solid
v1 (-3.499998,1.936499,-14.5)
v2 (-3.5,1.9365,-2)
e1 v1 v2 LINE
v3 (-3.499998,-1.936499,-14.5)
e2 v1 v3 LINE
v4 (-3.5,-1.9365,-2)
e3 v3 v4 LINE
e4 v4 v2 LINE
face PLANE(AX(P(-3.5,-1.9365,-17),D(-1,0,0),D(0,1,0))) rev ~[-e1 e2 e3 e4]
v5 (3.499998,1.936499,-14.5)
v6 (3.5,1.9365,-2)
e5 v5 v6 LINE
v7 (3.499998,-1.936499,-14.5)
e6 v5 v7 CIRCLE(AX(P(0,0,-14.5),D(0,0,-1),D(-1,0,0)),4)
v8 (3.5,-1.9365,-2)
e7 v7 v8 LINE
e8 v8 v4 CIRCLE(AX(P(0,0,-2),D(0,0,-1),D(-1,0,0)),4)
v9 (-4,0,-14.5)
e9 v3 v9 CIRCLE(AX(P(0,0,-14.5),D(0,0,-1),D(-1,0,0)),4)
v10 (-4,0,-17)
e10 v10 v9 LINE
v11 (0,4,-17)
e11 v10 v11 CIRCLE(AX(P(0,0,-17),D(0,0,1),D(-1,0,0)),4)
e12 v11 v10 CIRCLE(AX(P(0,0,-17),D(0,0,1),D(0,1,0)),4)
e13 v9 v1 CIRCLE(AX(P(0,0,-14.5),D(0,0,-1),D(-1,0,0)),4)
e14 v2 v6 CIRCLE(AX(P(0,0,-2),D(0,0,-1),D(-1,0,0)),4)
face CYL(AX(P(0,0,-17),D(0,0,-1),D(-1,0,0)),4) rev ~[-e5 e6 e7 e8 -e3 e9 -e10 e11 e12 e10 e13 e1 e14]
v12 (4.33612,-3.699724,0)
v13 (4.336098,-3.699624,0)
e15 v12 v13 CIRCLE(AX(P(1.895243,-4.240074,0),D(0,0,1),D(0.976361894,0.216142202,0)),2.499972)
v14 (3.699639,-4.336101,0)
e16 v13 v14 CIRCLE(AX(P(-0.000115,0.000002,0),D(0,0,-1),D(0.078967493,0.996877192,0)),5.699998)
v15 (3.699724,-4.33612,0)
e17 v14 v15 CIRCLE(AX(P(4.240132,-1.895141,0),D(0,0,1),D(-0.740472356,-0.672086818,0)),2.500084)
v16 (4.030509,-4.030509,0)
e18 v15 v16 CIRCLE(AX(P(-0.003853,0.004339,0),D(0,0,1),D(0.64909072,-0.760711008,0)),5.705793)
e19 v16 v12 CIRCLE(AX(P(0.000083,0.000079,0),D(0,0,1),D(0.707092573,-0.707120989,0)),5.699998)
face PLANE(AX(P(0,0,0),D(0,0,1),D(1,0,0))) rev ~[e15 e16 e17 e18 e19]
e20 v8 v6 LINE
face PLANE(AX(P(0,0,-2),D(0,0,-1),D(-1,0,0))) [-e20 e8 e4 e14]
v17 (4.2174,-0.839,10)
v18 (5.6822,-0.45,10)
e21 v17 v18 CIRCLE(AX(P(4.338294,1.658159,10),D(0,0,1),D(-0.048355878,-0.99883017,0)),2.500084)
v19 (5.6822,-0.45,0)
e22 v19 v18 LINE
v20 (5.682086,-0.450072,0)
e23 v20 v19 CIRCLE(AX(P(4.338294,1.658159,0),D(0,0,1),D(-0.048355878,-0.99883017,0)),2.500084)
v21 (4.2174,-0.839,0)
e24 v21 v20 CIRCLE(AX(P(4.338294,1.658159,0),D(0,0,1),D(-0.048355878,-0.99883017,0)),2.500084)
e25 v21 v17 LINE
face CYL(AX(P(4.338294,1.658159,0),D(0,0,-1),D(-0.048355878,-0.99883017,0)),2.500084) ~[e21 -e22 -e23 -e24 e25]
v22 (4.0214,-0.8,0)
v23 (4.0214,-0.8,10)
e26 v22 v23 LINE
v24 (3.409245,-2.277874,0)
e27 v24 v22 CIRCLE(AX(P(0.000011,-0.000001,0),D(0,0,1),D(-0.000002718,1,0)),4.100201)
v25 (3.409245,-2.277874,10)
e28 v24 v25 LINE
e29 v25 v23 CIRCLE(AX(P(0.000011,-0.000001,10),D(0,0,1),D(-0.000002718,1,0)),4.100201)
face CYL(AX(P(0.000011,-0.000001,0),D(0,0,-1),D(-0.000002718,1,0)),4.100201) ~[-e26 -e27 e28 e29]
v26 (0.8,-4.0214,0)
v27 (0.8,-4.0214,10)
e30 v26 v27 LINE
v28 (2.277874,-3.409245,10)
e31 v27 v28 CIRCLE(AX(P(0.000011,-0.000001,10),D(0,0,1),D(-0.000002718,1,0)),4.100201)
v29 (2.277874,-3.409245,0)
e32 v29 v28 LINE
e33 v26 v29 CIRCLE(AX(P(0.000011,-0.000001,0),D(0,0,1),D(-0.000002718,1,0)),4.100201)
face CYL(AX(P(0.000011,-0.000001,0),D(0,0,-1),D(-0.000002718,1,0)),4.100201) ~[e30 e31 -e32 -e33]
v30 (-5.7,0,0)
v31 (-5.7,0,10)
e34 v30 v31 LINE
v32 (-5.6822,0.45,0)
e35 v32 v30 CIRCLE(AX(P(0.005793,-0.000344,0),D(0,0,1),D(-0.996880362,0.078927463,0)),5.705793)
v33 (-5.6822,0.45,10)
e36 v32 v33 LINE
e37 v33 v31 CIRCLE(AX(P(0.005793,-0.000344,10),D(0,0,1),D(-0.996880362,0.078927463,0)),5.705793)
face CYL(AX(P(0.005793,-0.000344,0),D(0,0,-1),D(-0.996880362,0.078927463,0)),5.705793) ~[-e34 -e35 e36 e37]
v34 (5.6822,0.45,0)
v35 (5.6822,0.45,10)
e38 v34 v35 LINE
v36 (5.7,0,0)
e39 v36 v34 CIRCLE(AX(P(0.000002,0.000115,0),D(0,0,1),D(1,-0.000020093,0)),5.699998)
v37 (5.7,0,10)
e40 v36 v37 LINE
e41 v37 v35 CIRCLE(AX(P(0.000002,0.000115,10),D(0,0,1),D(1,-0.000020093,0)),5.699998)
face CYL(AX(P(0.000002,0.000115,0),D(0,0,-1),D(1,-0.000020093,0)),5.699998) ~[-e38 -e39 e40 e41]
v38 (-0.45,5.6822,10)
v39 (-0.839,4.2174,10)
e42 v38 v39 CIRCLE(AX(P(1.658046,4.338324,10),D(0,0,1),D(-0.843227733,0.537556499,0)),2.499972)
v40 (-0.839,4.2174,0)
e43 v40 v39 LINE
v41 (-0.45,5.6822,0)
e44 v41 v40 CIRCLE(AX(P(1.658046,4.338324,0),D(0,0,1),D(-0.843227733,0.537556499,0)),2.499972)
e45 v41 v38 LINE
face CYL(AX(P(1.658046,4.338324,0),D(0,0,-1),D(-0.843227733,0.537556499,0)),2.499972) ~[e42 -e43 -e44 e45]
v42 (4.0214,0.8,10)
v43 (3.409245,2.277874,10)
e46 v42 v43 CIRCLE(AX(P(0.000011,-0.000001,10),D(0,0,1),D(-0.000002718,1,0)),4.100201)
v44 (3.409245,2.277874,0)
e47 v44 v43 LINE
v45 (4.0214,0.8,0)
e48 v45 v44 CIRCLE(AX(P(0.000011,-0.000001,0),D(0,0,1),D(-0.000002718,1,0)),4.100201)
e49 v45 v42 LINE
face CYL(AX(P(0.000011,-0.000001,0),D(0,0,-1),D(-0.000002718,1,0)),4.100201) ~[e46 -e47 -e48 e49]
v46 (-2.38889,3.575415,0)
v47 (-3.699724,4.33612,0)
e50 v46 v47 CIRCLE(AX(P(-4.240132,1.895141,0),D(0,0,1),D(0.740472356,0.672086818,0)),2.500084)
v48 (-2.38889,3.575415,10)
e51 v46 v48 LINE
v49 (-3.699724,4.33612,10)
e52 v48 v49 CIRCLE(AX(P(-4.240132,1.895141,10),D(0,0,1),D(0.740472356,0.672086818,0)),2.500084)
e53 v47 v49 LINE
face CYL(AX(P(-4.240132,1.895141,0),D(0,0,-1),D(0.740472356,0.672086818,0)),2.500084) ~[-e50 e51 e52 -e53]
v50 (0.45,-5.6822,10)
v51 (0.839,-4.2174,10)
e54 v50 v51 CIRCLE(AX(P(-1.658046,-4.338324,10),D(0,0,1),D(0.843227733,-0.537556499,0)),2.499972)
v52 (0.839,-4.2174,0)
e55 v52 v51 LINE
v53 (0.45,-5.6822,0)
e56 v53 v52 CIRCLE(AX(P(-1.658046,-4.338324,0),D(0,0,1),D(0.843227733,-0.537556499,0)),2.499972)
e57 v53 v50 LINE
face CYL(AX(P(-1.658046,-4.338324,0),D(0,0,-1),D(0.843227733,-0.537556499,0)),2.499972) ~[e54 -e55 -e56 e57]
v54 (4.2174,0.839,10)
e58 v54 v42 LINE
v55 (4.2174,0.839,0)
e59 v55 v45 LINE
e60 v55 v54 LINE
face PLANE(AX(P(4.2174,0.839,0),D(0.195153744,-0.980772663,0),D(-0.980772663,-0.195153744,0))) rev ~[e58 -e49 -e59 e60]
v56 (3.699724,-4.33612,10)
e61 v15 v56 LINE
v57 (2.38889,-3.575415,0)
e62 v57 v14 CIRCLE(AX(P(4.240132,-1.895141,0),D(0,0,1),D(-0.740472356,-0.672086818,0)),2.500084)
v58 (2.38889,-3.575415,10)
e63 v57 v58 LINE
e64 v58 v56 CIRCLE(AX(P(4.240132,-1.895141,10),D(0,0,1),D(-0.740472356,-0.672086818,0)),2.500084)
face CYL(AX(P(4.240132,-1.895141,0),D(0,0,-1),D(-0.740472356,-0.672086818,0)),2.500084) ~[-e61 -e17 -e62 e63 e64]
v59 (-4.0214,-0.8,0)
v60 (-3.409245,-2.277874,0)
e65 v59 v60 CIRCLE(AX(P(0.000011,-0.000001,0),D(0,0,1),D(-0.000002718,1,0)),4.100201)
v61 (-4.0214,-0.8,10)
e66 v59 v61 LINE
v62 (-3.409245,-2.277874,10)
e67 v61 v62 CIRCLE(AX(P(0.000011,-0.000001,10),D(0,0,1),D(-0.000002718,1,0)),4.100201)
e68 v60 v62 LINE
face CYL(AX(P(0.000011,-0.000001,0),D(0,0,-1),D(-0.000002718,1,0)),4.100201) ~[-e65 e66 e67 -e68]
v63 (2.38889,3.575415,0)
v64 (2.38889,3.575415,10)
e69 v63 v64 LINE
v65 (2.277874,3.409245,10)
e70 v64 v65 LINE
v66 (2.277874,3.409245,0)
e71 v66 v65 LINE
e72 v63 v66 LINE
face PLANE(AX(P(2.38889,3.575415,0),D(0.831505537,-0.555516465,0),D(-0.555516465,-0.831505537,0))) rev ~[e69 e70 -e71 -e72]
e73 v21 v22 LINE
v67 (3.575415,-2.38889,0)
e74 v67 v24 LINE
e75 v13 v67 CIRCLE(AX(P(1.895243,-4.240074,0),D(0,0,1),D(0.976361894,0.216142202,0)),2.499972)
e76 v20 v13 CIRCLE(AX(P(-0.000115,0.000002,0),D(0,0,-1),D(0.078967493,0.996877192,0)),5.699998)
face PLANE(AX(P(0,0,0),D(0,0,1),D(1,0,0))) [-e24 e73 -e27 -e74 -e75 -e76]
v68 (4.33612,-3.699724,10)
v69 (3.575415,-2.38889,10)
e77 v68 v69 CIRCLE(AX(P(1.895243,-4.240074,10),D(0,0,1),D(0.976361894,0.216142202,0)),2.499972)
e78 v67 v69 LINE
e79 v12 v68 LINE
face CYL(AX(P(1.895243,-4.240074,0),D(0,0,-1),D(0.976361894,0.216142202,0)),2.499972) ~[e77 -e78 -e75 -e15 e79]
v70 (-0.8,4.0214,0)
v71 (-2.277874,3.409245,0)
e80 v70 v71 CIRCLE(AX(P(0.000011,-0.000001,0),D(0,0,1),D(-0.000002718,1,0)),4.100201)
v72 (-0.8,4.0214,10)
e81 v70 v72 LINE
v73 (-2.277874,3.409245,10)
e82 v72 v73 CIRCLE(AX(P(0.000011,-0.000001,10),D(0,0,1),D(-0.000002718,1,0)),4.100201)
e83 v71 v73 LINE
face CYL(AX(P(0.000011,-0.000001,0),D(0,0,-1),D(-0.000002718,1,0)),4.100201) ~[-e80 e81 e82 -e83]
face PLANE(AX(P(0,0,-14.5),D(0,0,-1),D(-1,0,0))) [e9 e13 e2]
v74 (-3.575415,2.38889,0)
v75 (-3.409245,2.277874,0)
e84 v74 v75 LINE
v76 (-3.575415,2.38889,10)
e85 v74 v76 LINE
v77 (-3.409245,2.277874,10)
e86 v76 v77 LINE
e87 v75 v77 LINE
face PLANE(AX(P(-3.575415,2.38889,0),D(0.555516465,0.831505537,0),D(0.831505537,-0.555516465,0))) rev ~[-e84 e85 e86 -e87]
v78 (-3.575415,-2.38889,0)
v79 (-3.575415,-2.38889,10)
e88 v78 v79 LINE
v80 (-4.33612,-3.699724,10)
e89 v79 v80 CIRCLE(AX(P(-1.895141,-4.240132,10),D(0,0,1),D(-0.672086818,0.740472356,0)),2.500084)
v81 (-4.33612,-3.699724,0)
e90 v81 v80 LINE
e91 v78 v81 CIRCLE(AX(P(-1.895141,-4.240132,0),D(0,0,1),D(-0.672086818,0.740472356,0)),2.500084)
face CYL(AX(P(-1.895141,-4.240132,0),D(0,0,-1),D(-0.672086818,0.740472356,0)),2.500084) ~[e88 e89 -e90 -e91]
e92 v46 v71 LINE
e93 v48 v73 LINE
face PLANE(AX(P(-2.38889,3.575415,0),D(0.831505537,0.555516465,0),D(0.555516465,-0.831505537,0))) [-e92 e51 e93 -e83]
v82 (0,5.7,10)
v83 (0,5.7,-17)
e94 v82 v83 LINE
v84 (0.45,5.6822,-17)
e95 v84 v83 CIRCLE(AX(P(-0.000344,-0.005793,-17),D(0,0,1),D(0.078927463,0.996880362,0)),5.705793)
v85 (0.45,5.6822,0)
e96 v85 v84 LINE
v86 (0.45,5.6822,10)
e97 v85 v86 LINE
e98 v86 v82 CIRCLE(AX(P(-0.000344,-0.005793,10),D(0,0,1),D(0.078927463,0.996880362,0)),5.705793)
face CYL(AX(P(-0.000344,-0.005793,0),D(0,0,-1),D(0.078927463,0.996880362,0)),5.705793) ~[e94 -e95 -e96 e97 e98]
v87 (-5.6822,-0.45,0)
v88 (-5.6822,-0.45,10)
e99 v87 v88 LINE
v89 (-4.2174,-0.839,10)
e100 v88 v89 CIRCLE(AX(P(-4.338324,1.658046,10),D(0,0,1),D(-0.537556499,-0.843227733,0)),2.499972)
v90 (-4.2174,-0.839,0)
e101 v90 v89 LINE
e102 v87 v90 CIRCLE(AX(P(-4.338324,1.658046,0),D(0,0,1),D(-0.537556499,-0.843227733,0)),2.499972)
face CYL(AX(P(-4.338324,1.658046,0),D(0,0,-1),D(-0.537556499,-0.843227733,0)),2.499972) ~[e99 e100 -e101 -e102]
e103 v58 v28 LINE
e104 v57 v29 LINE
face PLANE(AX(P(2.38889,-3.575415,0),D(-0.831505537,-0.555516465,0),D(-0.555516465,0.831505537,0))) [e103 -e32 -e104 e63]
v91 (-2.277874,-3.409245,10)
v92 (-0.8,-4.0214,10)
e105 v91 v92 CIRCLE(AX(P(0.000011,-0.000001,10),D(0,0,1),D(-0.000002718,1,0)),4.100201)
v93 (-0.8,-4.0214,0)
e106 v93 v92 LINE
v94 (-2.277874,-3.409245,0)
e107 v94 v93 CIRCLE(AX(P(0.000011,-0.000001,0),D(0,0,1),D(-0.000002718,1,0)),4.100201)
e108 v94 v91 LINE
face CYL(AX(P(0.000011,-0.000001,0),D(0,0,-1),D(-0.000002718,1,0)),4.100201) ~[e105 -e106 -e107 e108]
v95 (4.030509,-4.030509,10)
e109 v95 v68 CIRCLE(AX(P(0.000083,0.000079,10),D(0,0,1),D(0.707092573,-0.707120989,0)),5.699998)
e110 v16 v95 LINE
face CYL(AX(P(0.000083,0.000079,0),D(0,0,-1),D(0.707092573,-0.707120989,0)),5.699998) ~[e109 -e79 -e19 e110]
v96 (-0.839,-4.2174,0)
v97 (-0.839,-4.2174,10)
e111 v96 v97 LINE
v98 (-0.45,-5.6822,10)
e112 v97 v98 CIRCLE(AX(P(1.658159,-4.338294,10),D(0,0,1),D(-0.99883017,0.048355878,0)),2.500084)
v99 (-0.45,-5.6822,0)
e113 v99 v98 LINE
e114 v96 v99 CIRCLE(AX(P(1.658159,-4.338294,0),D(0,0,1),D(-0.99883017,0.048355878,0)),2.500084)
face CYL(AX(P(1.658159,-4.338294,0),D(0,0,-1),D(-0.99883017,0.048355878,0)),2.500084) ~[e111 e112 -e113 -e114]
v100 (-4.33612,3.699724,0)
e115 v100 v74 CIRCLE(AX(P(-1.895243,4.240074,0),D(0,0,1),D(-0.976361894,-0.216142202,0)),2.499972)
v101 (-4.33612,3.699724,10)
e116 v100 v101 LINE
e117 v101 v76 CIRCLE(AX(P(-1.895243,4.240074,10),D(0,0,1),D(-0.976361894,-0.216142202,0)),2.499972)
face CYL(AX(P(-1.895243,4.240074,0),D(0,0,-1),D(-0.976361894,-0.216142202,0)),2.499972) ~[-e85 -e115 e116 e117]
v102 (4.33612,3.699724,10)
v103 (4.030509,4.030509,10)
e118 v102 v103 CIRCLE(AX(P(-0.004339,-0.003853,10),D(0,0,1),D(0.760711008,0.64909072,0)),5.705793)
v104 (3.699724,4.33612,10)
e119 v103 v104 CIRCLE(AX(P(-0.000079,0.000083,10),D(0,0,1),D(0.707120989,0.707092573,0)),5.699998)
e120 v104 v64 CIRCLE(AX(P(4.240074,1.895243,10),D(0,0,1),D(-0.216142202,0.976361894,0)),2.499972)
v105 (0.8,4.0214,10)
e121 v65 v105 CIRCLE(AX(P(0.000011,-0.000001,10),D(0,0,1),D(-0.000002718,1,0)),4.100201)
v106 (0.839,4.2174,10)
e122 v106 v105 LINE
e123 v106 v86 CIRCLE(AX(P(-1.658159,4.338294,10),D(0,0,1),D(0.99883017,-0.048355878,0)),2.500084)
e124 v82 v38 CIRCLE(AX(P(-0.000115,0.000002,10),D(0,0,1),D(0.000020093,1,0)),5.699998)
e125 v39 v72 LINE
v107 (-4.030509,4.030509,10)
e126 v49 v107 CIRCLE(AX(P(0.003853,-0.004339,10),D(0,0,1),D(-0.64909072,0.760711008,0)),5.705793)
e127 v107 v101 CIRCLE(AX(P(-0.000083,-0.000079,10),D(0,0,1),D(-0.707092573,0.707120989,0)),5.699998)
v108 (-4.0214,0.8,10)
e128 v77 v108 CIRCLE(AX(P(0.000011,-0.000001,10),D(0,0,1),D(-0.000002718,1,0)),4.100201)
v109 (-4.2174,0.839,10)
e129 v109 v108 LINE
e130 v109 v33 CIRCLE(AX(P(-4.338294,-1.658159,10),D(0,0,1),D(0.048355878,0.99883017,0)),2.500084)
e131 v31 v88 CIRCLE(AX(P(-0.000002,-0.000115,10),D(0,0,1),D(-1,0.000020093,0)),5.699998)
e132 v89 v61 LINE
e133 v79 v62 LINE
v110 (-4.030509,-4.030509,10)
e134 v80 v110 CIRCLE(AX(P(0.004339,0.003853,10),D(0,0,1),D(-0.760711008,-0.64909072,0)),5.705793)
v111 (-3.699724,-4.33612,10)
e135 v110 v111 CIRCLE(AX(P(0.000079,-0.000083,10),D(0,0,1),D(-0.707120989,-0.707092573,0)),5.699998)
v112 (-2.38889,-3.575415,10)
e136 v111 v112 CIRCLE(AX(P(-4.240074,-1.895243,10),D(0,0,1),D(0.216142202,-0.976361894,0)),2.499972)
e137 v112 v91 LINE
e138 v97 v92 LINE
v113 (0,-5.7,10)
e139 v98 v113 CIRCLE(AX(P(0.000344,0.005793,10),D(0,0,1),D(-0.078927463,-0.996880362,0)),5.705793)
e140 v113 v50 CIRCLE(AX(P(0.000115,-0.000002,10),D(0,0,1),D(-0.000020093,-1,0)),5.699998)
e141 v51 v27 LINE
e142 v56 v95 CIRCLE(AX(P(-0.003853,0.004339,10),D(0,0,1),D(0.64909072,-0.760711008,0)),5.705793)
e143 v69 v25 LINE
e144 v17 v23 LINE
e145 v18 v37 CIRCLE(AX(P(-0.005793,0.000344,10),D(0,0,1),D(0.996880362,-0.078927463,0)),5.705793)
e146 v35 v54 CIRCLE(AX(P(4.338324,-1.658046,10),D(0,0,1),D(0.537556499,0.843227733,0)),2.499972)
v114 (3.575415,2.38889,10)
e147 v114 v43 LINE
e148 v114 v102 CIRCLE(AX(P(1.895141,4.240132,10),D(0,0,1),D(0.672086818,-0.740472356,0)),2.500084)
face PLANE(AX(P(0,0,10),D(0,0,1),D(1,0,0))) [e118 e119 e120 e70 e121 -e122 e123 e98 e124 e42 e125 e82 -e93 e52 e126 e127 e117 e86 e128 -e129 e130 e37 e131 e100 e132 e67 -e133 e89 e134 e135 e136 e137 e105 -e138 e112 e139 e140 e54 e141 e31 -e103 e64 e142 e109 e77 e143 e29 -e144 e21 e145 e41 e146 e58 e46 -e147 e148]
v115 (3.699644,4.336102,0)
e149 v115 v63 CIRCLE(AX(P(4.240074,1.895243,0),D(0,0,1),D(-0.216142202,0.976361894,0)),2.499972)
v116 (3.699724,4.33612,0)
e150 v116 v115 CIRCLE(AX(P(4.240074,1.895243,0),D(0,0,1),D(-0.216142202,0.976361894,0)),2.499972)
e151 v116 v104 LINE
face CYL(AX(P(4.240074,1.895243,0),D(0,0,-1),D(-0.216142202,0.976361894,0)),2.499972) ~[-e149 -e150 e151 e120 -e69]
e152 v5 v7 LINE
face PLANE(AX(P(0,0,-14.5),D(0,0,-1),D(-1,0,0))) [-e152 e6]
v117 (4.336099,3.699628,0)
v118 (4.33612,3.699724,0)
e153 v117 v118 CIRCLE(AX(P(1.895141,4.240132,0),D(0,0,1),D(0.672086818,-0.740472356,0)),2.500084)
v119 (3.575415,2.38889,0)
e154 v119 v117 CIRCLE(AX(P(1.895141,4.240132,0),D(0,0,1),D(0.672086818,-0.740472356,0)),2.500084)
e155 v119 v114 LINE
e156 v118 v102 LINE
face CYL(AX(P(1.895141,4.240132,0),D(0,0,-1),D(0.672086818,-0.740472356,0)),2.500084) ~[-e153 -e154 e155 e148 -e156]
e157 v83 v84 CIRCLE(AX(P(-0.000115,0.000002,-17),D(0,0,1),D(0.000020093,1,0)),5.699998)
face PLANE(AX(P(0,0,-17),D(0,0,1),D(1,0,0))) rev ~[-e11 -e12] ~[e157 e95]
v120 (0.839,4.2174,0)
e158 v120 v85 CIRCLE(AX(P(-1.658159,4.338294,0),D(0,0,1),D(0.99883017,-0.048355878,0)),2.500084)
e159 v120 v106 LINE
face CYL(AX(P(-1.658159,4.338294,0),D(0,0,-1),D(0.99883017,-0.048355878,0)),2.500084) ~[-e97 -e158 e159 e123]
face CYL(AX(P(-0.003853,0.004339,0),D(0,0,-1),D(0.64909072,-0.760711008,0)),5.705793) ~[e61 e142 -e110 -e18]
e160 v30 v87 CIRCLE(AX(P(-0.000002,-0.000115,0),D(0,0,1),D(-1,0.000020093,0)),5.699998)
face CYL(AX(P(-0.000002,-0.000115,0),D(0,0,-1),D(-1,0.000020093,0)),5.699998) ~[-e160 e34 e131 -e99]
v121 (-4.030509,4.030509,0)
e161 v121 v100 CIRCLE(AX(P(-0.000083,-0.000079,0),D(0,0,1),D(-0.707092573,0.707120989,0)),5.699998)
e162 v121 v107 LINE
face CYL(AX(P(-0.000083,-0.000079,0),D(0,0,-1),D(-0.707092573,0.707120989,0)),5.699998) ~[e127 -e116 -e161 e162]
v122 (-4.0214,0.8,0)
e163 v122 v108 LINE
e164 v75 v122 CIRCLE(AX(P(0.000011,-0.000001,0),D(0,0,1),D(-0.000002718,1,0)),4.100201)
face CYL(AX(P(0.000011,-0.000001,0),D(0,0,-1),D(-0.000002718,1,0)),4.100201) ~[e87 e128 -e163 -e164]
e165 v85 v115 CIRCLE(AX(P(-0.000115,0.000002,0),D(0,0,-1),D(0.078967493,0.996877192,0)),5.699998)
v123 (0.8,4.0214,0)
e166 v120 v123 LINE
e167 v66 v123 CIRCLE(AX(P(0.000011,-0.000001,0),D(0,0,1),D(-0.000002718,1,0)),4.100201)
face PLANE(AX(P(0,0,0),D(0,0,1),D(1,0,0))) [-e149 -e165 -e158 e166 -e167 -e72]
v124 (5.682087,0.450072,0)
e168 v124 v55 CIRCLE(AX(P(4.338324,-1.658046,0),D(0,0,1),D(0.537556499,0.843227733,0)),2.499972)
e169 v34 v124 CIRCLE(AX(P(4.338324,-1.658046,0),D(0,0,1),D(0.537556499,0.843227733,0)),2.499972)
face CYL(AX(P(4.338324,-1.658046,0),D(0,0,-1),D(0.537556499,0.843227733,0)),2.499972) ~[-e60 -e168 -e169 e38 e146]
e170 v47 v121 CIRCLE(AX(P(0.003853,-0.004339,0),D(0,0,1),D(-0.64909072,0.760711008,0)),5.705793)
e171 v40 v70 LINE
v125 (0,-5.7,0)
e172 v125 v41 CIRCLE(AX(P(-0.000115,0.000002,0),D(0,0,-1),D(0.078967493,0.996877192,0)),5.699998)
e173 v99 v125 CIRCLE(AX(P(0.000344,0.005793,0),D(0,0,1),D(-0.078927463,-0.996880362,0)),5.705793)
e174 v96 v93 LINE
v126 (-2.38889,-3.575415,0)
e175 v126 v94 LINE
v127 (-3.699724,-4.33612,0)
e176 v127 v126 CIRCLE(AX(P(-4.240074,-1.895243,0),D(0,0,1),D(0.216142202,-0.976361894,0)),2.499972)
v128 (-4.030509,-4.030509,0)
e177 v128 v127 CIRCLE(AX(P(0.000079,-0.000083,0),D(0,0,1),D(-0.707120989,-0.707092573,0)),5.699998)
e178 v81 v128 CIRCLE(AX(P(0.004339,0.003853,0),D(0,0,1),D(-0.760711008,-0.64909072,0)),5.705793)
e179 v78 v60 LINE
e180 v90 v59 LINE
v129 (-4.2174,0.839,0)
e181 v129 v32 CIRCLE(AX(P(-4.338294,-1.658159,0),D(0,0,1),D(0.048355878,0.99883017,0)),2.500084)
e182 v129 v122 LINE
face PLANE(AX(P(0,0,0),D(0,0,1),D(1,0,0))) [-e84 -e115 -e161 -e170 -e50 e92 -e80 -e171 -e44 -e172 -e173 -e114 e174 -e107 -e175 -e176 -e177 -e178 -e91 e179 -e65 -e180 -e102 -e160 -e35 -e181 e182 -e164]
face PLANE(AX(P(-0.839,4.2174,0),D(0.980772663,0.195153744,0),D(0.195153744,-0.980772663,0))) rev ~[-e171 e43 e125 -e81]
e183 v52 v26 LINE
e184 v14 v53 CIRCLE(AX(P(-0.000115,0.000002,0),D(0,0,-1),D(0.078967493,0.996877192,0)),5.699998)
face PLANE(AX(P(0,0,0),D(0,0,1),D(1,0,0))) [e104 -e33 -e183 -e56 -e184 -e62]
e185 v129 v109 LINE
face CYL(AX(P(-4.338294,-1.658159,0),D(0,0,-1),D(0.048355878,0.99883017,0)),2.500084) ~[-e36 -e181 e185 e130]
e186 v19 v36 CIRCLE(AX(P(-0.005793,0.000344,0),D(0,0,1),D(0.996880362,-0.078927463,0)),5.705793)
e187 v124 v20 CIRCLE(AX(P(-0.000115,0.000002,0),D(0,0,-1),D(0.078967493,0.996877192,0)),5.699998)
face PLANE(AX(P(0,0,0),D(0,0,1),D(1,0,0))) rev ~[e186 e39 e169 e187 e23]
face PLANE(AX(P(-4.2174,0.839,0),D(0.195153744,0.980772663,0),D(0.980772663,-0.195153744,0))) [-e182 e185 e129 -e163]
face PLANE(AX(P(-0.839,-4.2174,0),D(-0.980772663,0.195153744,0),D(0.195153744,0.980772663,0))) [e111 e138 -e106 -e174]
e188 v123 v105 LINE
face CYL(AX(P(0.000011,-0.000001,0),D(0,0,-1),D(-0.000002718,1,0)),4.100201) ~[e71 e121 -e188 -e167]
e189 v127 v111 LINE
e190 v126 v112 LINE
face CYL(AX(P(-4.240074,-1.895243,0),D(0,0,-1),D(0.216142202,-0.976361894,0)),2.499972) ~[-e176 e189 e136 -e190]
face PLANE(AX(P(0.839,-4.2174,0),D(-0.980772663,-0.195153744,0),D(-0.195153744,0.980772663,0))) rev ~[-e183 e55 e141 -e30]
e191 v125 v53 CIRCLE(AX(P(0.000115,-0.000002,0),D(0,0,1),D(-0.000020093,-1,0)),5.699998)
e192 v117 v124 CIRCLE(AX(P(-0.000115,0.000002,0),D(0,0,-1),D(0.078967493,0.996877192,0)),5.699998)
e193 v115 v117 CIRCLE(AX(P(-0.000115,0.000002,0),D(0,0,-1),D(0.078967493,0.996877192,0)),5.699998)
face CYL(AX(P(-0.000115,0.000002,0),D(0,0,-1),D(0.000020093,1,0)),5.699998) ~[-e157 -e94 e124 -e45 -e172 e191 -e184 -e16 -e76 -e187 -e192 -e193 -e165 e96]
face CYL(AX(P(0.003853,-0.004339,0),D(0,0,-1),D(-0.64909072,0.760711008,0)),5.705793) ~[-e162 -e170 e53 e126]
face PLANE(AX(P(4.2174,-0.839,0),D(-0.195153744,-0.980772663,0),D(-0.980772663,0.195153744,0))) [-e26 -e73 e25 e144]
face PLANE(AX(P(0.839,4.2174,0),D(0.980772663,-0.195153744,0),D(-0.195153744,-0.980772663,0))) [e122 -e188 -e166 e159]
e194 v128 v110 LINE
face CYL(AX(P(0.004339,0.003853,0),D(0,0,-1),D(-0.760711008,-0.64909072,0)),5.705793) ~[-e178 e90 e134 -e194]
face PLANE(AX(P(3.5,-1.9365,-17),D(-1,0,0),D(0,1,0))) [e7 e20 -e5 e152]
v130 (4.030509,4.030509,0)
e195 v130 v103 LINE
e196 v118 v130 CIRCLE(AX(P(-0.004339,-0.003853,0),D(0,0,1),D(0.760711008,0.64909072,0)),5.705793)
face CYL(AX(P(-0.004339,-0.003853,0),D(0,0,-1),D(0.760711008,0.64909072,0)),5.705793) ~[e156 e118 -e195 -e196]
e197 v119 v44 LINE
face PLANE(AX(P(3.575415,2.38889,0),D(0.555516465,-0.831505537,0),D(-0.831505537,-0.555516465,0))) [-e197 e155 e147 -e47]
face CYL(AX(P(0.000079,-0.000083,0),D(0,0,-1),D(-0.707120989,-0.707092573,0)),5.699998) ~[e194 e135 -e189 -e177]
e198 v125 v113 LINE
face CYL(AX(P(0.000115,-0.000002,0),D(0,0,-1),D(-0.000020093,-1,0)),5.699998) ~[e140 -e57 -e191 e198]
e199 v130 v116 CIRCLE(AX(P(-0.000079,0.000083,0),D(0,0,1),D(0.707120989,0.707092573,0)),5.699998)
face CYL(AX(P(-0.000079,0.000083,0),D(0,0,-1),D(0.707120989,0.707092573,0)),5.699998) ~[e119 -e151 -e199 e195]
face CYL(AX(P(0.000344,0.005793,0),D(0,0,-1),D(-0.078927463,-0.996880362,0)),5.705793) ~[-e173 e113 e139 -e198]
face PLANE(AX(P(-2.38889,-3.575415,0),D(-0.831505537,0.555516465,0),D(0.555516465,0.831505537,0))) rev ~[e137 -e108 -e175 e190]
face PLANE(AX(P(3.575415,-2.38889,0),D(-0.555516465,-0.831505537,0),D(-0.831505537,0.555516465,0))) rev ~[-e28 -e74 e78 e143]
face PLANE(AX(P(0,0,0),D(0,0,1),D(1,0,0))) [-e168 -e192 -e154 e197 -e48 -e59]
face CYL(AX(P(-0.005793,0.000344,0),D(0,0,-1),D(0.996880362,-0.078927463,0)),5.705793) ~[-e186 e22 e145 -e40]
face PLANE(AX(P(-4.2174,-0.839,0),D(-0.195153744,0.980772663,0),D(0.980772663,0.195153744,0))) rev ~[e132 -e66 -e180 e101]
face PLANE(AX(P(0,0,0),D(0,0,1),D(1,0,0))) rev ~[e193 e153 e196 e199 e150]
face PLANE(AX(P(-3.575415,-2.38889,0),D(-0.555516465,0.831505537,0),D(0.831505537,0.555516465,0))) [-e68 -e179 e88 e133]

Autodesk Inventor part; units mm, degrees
ref_plane "YZ Plane" through (0, 0, 0) normal (1, 0, 0) x (0, 1, 0)
ref_plane "XZ Plane" through (0, 0, 0) normal (0, 1, 0) x (-1, 0, 0)
ref_plane "XY Plane" through (0, 0, 0) normal (0, 0, 1) x (1, 0, 0)
sketch "Sketch1" plane through (0, 0, 0) normal (0, 0, 1) x (1, 0, 0)
  arc A0 (0, 5) -> (0.7683, 4.9406) centre (0, 0) ccw construction
  arc A1 (0, 5.7) -> (0.45, 5.6822) centre (0, 0) ccw
  arc A2 (0, 4.3) -> (0.839, 4.2174) centre (0, 0) ccw construction
  arc A3 (0, 4.1002) -> (0.8, 4.0214) centre (0, 0) ccw
  arc A4 (-0.45, 5.6822) -> (-0.839, 4.2174) centre (1.6581, 4.3383) ccw
  line L0 (-0.839, 4.2174) -> (-0.8, 4.0214)
  line L1 (0, 0) -> (0, 10.8363)
  arc A5 (0.839, 4.2174) -> (0.45, 5.6822) centre (-1.6581, 4.3383) ccw
  line L2 (0.839, 4.2174) -> (0.8, 4.0214)
  arc A6 (0.45, 5.6822) -> (0, 5.7) centre (0, 0) ccw
  arc A7 (0.7683, 4.9406) -> (0, 5) centre (0, 0) ccw construction
  arc A8 (0.839, 4.2174) -> (0, 4.3) centre (0, 0) ccw construction
  arc A9 (0.8, 4.0214) -> (0, 4.1002) centre (0, 0) ccw
  circle A10 centre (0, 0) radius 3.25
  point P0 (0.455, 5.6318)
  point P1 (0.3281, 6.8421)
  dimension "d0" = 10
  dimension "d8" = 2.5
  dimension "d14" = 0.7
  dimension "d15" = 0.7
  dimension "d16" = 0.1998
  dimension "d17" = 0.8
  dimension "d18" = 0.45
  dimension "d19" = 6.5
extrude "Extrusion1" add sketch "Sketch1" along normal blind 10 contours L1 A3 L0 A4 A1 | A6 A5 L2 A9 L1 | A9 A3 | A10
pattern_circular "Circular Pattern1" count 8 over 360 about axis through (0, 0, 0) along (0, 0, 1) of "Extrusion1"
sketch "Sketch2" plane through (0, 0, 0) normal (0, 0, -1) x (-1, 0, 0)
  line L0 (0.839, 4.2174) -> (0.8, 4.0214) construction
  arc A0 (0.839, 4.2174) -> (0.45, 5.6822) centre (-1.6581, 4.3383) ccw construction
  arc A1 (0.45, 5.6822) -> (-0.45, 5.6822) centre (0, 0) ccw construction
  arc A2 (-0.45, 5.6822) -> (-0.839, 4.2174) centre (1.6581, 4.3383) ccw construction
  line L1 (-0.8, 4.0214) -> (-0.839, 4.2174) construction
  arc A3 (-0.8, 4.0214) -> (-2.2779, 3.4092) centre (0, 0) ccw construction
  line L2 (-2.3889, 3.5754) -> (-2.2779, 3.4092) construction
  arc A4 (-2.3889, 3.5754) -> (-3.6997, 4.3361) centre (-4.2401, 1.8952) ccw construction
  arc A5 (-3.6997, 4.3361) -> (-4.3361, 3.6997) centre (0, 0) ccw construction
  arc A6 (-4.3361, 3.6997) -> (-3.5754, 2.3889) centre (-1.8952, 4.2401) ccw construction
  line L3 (-3.4092, 2.2779) -> (-3.5754, 2.3889) construction
  arc A7 (-3.4092, 2.2779) -> (-4.0214, 0.8) centre (0, 0) ccw construction
  line L4 (-4.2174, 0.839) -> (-4.0214, 0.8) construction
  arc A8 (-4.2174, 0.839) -> (-5.6822, 0.45) centre (-4.3383, -1.6581) ccw construction
  arc A9 (-5.6822, 0.45) -> (-5.6822, -0.45) centre (0, 0) ccw construction
  arc A10 (-5.6822, -0.45) -> (-4.2174, -0.839) centre (-4.3383, 1.6581) ccw construction
  line L5 (-4.0214, -0.8) -> (-4.2174, -0.839) construction
  arc A11 (-4.0214, -0.8) -> (-3.4092, -2.2779) centre (0, 0) ccw construction
  line L6 (-3.5754, -2.3889) -> (-3.4092, -2.2779) construction
  arc A12 (-3.5754, -2.3889) -> (-4.3361, -3.6997) centre (-1.8952, -4.2401) ccw construction
  arc A13 (-4.3361, -3.6997) -> (-3.6997, -4.3361) centre (0, 0) ccw construction
  arc A14 (-3.6997, -4.3361) -> (-2.3889, -3.5754) centre (-4.2401, -1.8952) ccw construction
  line L7 (-2.2779, -3.4092) -> (-2.3889, -3.5754) construction
  arc A15 (-2.2779, -3.4092) -> (-0.8, -4.0214) centre (0, 0) ccw construction
  line L8 (-0.839, -4.2174) -> (-0.8, -4.0214) construction
  arc A16 (-0.839, -4.2174) -> (-0.45, -5.6822) centre (1.6581, -4.3383) ccw construction
  arc A17 (-0.45, -5.6822) -> (0.45, -5.6822) centre (0, 0) ccw construction
  arc A18 (0.45, -5.6822) -> (0.839, -4.2174) centre (-1.6581, -4.3383) ccw construction
  line L9 (0.8, -4.0214) -> (0.839, -4.2174) construction
  arc A19 (0.8, -4.0214) -> (2.2779, -3.4092) centre (0, 0) ccw construction
  line L10 (2.3889, -3.5754) -> (2.2779, -3.4092) construction
  arc A20 (2.3889, -3.5754) -> (3.6997, -4.3361) centre (4.2401, -1.8952) ccw construction
  arc A21 (3.6997, -4.3361) -> (4.3361, -3.6997) centre (0, 0) ccw construction
  arc A22 (4.3361, -3.6997) -> (3.5754, -2.3889) centre (1.8952, -4.2401) ccw construction
  line L11 (3.4092, -2.2779) -> (3.5754, -2.3889) construction
  arc A23 (3.4092, -2.2779) -> (4.0214, -0.8) centre (0, 0) ccw construction
  line L12 (4.2174, -0.839) -> (4.0214, -0.8) construction
  arc A24 (4.2174, -0.839) -> (5.6822, -0.45) centre (4.3383, 1.6581) ccw construction
  arc A25 (5.6822, -0.45) -> (5.6822, 0.45) centre (0, 0) ccw construction
  arc A26 (5.6822, 0.45) -> (4.2174, 0.839) centre (4.3383, -1.6581) ccw construction
  line L13 (4.0214, 0.8) -> (4.2174, 0.839) construction
  arc A27 (4.0214, 0.8) -> (3.4092, 2.2779) centre (0, 0) ccw construction
  line L14 (3.5754, 2.3889) -> (3.4092, 2.2779) construction
  arc A28 (3.5754, 2.3889) -> (4.3361, 3.6997) centre (1.8952, 4.2401) ccw construction
  arc A29 (4.3361, 3.6997) -> (3.6997, 4.3361) centre (0, 0) ccw construction
  arc A30 (3.6997, 4.3361) -> (2.3889, 3.5754) centre (4.2401, 1.8952) ccw construction
  line L15 (2.2779, 3.4092) -> (2.3889, 3.5754) construction
  arc A31 (2.2779, 3.4092) -> (0.8, 4.0214) centre (0, 0) ccw construction
  circle A32 centre (0, 0) radius 4.1002
extrude "Extrusion2" add sketch "Sketch1" against normal blind 17 contours L1 A3 L0 A4 A1 | A6 A5 L2 A9 L1 | A4 L0 A3 L2 A5 A1 | A9 A3 | A10
sketch "Sketch3" plane through (0, 0, -17) normal (0, 0, -1) x (-1, 0, 0)
  circle A0 centre (0, 0) radius 3.25 construction
  circle A1 centre (0, 0) radius 4
  line L0 (-3.5, -1.9365) -> (-3.5, 1.9365)
  line L1 (0, 0) -> (0, 1.4269) construction
  line L2 (3.5, -1.9365) -> (3.5, 1.9365)
  dimension "d22" = 8
  dimension "d23" = 3.5
extrude "Extrusion3" cut sketch "Sketch3" against normal blind 15 contours L2 A1 L0
sketch "Sketch4" plane through (0, 0, -17) normal (0, 0, -1) x (-1, 0, 0)
  circle A0 centre (0, 0) radius 5.7 construction
  circle A1 centre (0, 0) radius 4
  point P0 (-3.5, -1.9365)
extrude "Extrusion4" cut sketch "Sketch4" against normal blind 2.5
properties part number "Pinion_V2" material "Polystyrene"
